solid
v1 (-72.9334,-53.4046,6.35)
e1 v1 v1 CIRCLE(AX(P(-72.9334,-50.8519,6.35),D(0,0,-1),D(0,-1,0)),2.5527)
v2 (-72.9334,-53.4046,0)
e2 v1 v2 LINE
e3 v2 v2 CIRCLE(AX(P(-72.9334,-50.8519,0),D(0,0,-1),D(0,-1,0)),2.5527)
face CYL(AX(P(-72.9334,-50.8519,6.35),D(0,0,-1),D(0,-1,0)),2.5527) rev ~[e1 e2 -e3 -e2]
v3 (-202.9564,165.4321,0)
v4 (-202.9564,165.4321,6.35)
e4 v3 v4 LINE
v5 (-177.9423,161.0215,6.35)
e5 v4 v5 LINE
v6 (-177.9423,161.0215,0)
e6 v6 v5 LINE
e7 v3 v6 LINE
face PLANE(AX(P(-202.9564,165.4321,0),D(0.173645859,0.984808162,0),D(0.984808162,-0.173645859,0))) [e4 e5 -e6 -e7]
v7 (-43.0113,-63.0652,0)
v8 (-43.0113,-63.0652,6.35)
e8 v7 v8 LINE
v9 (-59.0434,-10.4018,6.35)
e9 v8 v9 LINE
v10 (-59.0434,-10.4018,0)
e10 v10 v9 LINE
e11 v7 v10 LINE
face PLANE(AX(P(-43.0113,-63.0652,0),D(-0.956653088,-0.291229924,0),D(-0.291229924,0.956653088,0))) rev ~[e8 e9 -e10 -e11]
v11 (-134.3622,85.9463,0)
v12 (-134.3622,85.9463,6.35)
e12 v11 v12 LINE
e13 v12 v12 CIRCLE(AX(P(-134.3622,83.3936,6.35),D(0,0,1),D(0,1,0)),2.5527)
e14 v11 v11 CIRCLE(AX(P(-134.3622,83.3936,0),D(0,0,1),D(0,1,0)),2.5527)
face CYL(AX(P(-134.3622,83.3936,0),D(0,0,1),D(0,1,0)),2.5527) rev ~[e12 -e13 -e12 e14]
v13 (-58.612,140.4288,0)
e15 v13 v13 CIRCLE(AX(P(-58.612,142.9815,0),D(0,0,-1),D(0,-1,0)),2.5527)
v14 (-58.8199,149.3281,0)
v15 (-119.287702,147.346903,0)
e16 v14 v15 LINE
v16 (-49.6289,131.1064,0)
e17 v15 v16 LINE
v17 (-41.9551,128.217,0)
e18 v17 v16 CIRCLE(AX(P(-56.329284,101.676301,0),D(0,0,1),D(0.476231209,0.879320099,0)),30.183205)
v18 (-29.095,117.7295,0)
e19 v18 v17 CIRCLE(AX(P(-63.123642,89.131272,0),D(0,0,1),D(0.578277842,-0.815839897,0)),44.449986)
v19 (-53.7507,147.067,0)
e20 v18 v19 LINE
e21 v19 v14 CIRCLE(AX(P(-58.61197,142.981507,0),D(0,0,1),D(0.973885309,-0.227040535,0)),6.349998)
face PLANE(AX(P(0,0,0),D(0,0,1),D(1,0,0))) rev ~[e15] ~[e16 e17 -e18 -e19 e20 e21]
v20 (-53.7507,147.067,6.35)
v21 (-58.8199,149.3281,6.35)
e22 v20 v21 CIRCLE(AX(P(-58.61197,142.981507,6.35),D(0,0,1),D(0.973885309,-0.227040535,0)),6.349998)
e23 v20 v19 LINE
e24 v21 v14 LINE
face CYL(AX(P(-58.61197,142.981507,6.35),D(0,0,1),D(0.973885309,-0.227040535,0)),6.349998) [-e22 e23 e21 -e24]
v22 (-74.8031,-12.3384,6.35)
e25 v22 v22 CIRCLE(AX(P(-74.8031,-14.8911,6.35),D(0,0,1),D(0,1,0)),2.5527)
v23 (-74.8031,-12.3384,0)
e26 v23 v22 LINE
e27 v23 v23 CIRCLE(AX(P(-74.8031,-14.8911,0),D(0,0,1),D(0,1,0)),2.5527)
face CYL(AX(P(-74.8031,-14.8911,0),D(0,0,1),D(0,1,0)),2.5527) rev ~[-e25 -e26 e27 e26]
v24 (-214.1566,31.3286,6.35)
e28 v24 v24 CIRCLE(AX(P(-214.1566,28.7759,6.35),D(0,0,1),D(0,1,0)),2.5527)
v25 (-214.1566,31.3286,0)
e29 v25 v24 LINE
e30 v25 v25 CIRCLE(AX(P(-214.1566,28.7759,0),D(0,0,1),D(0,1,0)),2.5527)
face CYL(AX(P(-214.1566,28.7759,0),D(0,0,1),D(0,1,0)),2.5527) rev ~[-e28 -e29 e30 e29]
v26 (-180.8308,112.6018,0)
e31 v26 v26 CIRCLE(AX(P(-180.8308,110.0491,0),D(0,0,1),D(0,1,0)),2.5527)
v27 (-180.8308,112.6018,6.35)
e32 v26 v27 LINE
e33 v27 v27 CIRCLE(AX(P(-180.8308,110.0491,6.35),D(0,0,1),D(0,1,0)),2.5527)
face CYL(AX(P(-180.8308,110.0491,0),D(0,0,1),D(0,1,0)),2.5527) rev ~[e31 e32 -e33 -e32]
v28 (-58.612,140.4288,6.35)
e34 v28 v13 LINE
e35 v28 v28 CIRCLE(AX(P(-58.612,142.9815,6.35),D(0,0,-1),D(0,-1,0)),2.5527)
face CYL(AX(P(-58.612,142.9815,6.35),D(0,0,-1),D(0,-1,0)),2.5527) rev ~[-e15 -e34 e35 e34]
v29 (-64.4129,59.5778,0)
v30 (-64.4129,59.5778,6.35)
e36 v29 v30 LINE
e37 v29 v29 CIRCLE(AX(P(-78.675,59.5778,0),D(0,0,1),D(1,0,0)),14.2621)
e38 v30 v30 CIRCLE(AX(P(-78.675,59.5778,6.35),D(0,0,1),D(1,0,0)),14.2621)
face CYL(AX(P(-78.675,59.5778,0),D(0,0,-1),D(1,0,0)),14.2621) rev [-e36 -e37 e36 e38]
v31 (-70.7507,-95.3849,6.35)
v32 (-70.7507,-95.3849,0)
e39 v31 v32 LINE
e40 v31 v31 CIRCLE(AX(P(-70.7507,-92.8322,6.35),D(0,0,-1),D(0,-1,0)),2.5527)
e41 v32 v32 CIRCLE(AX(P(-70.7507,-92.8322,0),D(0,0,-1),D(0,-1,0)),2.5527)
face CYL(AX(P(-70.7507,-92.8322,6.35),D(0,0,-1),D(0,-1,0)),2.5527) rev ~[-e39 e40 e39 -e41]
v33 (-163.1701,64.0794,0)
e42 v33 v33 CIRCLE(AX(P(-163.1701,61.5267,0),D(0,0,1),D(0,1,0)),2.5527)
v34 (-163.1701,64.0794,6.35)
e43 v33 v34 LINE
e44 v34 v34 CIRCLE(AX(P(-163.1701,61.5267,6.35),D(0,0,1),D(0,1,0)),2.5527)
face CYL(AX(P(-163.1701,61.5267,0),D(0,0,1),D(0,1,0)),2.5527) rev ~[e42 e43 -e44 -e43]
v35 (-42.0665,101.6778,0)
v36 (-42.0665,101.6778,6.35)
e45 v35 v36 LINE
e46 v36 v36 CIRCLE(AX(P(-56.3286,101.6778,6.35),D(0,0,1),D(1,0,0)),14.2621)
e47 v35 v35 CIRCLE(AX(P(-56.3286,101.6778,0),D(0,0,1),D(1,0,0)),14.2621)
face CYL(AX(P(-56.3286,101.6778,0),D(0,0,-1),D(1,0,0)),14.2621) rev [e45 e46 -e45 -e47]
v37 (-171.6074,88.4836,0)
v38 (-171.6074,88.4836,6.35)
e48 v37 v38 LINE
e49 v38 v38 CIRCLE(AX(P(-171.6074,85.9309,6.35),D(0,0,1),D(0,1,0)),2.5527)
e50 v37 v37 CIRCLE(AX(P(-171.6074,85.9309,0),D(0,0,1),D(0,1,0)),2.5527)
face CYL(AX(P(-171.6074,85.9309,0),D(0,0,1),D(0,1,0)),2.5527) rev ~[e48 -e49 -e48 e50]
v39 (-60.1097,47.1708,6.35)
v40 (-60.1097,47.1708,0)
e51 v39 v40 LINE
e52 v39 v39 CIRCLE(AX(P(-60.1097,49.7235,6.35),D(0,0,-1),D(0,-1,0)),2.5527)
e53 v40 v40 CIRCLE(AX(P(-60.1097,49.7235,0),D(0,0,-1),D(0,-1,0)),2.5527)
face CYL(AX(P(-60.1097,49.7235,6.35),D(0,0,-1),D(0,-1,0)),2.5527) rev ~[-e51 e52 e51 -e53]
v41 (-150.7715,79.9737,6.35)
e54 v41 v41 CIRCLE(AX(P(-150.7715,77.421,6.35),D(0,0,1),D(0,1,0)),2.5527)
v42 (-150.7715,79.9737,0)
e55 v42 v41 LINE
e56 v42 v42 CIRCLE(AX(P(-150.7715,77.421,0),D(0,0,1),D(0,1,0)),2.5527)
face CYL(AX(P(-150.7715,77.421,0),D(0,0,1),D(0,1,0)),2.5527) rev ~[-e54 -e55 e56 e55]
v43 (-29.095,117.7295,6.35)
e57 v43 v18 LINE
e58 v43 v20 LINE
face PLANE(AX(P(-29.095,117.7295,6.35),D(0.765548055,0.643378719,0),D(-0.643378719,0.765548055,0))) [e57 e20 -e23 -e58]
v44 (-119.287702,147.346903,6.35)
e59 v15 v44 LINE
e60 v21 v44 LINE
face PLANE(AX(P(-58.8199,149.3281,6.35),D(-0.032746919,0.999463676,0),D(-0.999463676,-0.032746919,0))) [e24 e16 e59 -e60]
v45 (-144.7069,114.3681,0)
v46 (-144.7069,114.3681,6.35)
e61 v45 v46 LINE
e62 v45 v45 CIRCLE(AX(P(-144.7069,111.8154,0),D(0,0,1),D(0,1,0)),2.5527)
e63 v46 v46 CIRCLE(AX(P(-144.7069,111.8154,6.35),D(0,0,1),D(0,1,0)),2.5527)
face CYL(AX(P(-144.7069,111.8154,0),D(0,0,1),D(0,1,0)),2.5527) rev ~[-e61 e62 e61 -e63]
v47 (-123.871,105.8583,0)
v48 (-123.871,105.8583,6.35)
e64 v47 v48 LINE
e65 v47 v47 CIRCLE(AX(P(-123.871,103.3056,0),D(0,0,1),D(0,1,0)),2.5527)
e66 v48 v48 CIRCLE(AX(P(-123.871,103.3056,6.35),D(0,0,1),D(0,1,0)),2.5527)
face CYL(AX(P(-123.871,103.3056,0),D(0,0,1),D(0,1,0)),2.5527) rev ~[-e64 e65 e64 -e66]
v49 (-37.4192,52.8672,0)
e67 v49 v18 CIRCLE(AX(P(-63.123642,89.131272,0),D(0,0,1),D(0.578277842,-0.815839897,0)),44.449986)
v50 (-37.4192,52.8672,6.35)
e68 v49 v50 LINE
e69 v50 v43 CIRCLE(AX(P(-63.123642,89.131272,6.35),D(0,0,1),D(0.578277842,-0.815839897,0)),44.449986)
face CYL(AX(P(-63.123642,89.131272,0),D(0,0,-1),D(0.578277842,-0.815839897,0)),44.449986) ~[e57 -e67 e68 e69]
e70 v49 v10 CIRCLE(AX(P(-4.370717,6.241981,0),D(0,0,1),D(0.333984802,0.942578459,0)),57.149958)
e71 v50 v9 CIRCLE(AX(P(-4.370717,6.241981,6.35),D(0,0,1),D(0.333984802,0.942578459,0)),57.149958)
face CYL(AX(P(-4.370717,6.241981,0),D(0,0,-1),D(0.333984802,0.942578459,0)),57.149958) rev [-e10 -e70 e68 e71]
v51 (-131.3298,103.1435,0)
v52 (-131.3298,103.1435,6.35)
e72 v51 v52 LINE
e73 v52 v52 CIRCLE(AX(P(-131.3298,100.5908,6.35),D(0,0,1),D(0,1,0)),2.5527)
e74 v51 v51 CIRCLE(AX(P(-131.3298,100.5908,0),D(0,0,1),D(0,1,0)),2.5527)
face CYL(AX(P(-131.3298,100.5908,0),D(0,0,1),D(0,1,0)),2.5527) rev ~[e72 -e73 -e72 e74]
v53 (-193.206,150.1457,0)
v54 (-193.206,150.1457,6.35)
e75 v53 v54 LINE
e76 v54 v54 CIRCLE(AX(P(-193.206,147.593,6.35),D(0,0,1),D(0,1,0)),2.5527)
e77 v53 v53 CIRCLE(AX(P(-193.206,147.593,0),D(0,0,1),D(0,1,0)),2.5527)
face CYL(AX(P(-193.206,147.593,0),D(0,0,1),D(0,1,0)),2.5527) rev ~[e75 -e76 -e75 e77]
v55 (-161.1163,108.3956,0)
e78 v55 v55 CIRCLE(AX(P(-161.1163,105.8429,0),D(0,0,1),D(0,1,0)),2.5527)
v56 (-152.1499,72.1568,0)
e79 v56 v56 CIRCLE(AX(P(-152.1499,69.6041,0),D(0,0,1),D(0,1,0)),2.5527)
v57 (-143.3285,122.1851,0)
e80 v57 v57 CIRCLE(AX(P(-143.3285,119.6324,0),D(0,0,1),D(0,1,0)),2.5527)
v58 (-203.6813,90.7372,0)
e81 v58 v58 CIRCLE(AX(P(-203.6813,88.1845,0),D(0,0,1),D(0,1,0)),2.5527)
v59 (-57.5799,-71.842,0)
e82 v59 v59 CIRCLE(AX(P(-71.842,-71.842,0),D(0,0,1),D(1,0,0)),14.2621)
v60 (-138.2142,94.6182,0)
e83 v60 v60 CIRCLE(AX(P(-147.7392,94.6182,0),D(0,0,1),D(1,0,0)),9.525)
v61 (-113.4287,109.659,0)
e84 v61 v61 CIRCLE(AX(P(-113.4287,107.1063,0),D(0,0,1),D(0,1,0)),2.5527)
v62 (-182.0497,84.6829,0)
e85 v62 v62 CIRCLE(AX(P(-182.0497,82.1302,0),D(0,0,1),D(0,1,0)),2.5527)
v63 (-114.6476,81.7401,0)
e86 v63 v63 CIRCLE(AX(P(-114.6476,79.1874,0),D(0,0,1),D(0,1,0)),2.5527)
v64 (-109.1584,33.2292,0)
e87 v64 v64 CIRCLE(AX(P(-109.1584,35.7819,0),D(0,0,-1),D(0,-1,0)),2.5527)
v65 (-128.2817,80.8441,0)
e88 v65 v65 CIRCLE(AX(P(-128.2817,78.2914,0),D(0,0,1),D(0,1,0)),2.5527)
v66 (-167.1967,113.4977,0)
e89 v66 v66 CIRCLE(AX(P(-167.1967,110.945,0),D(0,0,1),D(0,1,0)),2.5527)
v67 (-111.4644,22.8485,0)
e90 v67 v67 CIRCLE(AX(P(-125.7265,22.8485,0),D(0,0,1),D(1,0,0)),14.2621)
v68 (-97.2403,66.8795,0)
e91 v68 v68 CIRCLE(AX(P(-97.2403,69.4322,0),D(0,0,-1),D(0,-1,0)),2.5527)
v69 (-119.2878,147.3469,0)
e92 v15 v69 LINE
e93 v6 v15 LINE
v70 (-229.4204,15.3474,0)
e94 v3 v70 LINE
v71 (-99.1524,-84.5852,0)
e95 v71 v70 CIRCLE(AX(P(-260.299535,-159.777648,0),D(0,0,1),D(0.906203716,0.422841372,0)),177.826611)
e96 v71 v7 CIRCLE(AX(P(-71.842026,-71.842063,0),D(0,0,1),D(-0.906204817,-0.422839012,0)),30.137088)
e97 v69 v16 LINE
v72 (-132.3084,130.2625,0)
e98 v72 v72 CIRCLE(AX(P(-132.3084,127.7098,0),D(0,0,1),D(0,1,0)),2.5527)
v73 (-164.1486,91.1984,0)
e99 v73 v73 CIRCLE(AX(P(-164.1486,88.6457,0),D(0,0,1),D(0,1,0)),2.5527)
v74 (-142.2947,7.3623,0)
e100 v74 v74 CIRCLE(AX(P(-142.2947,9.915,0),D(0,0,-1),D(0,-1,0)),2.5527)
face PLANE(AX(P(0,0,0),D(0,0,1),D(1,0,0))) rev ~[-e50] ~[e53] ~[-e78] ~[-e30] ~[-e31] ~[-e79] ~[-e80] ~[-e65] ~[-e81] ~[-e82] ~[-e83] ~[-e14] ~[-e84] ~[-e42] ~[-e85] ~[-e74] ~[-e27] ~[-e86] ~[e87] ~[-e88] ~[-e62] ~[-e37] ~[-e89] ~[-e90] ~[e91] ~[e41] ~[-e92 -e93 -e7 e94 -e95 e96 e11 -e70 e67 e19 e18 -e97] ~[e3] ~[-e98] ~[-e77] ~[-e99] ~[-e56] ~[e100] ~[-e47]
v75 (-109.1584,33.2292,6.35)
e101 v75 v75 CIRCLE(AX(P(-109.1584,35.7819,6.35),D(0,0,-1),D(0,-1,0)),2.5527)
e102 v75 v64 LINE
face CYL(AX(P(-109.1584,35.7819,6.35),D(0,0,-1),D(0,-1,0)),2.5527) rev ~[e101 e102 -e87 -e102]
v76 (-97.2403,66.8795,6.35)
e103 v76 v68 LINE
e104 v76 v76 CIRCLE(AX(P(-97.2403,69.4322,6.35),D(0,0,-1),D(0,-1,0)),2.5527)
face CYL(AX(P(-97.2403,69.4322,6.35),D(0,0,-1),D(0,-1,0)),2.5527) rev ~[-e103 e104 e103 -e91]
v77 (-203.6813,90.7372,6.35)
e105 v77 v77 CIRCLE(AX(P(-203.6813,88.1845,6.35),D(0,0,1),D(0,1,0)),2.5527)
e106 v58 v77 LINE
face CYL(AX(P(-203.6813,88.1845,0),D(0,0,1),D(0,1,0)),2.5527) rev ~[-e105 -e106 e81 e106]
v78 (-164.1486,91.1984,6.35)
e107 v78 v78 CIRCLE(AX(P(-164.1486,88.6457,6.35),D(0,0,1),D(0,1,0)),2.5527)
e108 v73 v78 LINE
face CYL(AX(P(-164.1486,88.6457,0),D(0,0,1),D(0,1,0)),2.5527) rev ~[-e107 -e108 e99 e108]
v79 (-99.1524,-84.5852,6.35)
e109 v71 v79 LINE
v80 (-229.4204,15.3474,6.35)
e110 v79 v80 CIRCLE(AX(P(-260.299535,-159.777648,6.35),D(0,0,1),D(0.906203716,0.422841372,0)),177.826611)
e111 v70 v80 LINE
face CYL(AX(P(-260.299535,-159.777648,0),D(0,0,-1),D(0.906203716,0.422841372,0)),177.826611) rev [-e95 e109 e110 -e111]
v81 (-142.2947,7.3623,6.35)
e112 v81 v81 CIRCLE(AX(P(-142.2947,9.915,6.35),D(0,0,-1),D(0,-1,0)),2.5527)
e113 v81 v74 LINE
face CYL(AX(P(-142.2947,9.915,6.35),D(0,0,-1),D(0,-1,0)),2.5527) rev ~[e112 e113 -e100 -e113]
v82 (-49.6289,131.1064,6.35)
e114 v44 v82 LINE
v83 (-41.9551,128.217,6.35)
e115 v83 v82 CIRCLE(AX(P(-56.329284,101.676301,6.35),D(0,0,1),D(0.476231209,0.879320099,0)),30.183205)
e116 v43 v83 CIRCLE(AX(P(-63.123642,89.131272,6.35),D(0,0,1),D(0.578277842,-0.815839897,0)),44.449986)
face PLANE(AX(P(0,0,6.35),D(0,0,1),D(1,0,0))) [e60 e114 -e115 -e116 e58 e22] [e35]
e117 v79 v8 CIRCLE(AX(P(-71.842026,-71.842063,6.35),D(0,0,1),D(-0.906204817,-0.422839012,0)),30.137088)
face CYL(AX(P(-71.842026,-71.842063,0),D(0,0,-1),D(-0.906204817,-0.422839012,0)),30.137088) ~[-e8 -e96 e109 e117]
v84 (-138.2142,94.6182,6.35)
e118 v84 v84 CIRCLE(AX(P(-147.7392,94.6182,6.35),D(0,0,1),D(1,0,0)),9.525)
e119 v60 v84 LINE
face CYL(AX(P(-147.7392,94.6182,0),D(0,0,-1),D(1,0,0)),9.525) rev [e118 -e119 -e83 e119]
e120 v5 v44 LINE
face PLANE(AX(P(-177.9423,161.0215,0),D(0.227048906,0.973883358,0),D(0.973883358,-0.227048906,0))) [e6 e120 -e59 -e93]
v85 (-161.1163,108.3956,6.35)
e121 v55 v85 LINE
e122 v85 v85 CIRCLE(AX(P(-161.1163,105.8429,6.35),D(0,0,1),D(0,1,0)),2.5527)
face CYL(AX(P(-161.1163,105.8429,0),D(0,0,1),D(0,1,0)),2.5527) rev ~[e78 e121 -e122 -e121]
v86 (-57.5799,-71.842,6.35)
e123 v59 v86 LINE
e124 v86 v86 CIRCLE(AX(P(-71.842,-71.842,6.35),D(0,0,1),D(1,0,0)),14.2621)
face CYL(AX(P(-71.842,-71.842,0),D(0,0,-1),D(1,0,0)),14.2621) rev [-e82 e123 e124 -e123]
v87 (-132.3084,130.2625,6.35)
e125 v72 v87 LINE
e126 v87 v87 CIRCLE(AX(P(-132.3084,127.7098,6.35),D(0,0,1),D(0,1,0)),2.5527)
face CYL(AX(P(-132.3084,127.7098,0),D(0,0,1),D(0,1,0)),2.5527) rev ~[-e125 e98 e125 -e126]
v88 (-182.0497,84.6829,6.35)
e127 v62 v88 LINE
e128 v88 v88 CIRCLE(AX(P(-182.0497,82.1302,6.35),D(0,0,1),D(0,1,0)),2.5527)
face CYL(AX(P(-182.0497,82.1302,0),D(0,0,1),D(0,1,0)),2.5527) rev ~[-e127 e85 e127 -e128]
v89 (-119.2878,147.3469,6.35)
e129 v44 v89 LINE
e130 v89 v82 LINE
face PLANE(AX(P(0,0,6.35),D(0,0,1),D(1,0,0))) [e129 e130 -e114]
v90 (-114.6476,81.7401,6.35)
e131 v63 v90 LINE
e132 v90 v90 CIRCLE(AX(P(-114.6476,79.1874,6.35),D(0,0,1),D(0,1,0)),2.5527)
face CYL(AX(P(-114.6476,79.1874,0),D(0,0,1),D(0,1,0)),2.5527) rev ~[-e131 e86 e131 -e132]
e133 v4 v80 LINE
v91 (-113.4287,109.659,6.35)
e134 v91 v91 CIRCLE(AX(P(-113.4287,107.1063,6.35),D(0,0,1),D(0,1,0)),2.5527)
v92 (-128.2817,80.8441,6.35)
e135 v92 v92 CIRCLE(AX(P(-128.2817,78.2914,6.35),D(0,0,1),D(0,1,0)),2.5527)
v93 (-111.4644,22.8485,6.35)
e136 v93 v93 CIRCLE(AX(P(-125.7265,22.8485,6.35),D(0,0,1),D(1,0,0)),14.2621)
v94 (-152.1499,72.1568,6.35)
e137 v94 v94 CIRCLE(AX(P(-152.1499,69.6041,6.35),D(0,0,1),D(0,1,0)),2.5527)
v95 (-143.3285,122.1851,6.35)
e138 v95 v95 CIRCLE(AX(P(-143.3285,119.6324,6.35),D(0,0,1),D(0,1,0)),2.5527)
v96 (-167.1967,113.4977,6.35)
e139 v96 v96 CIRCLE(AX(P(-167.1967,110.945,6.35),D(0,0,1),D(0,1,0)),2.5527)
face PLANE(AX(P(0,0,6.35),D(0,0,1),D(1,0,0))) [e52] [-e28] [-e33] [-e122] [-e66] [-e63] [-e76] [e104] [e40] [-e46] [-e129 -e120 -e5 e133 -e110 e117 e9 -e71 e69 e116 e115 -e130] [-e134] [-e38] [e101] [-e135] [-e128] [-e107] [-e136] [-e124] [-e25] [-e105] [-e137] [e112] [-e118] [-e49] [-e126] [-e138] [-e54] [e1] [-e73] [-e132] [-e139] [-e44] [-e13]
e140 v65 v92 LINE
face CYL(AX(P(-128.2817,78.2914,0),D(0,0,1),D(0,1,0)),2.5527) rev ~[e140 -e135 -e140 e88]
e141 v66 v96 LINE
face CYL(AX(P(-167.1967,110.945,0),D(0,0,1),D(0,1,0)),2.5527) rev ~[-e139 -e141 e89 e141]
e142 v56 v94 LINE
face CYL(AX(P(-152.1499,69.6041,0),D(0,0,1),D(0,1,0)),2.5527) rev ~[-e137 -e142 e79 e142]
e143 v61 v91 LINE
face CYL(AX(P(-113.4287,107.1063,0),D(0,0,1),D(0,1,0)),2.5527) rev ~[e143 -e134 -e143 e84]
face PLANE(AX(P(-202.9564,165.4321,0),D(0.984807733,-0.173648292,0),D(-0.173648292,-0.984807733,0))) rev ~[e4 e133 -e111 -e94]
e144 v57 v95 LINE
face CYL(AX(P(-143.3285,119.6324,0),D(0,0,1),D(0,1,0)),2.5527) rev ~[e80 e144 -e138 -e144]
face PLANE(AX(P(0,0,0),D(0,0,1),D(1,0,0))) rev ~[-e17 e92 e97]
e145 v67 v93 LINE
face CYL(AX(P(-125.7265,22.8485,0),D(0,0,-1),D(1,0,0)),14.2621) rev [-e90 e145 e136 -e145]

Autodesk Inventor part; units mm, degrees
ref_plane "YZ Plane" through (0, 0, 0) normal (1, 0, 0) x (0, 1, 0)
ref_plane "XZ Plane" through (0, 0, 0) normal (0, 1, 0) x (-1, 0, 0)
ref_plane "XY Plane" through (0, 0, 0) normal (0, 0, 1) x (1, 0, 0)
sketch "Sketch1" plane through (0, 0, 0) normal (0, 0, 1) x (1, 0, 0)
  circle A0 centre (71.842, 71.842) radius 50.8 construction
  circle A1 centre (-71.842, -71.842) radius 50.8 construction
  circle A2 centre (0, 0) radius 50.8 construction
  line L0 (-35.921, -35.921) -> (35.921, 35.921) construction
  line L1 (71.842, 71.842) -> (-71.842, -71.842) construction
  line L2 (-4.3707, 6.2419) -> (-4.3707, 50.6116) construction
  line L3 (-226.8798, -122.642) -> (638.5123, -122.642) construction
  circle A3 centre (147.8406, -65.492) radius 57.15 construction
  circle A4 centre (71.842, 71.842) radius 14.2621
  circle A5 centre (-71.842, -71.842) radius 14.2621
  circle A6 centre (-4.3707, 6.2419) radius 57.15 construction
  circle A7 centre (-71.842, -71.842) radius 30.1371 construction
  circle A8 centre (71.842, 71.842) radius 30.1371 construction
  circle A9 centre (-56.3286, 101.6778) radius 14.2621
  line L4 (-56.3286, 101.6778) -> (71.842, 71.842) construction
  circle A10 centre (71.842, 71.842) radius 14.3256 construction
  circle A11 centre (-71.842, -71.842) radius 14.3256 construction
  circle A12 centre (-78.675, 59.5778) radius 14.2621
  line L5 (-71.842, -71.842) -> (-78.675, 59.5778) construction
  circle A13 centre (-78.675, 59.5778) radius 23.8316 construction
  circle A14 centre (-56.3286, 101.6778) radius 23.8316 construction
  line L6 (14.7165, 60.1103) -> (61.7767, 43.4355)
  line L7 (-43.0113, -63.0652) -> (-59.0434, -10.4018)
  arc A15 (14.7165, 60.1103) -> (-59.0434, -10.4018) centre (-4.3707, 6.2419) ccw
  line L8 (-202.9564, 165.4321) -> (-177.9423, 161.0215)
  line L9 (-177.9423, 161.0215) -> (-204.4062, 10.9368) construction
  line L10 (-204.4062, 10.9368) -> (-229.4204, 15.3474) construction
  line L11 (-229.4204, 15.3474) -> (-202.9564, 165.4321) construction
  line L12 (-248.4004, -92.2937) -> (35.0702, -142.2772) construction
  line L13 (-201.8537, 171.6857) -> (161.0026, 107.7043) construction
  line L14 (-201.8537, 171.6857) -> (-248.4004, -92.2937) construction
  circle A16 centre (-147.7392, 94.6182) radius 31.75 construction
  line L15 (-77.4376, 35.7784) -> (-74.4797, -21.1106) construction
  circle A17 centre (13.0879, 85.5189) radius 9.525 construction
  line L16 (-190.4493, 163.2268) -> (-216.9133, 13.1421) construction
  line L17 (-193.206, 147.593) -> (-214.1566, 28.7759) construction
  circle A18 centre (-147.7392, 94.6182) radius 17.4625 construction
  circle A19 centre (-147.7392, 94.6182) radius 9.525
  circle A20 centre (-56.3286, 101.6778) radius 30.1816 construction
  line L18 (-202.9564, 165.4321) -> (-229.4204, 15.3474)
  arc A21 (61.7767, 43.4355) -> (78.6846, 101.1921) centre (71.842, 71.842) ccw
  arc A22 (-99.1524, -84.5852) -> (-43.0113, -63.0652) centre (-71.842, -71.842) ccw
  line L19 (-147.7392, 94.6182) -> (-131.3298, 100.5908) construction
  line L20 (-113.4287, 107.1063) -> (-182.0497, 82.1302) construction
  circle A23 centre (-182.0497, 82.1302) radius 4.7625 construction
  line L21 (0, 0) -> (-4.3707, 6.2419) construction
  circle A24 centre (71.842, 71.842) radius 28.6512 construction
  line L22 (62.334, 44.8145) -> (-61.0615, 88.2239) construction
  line L23 (75.2477, 100.2901) -> (-54.6333, 115.8388) construction
  line L24 (-177.9423, 161.0215) -> (78.6846, 101.1921)
  line L25 (-147.7392, 94.6182) -> (-125.7265, 22.8485) construction
  circle A25 centre (-125.7265, 22.8485) radius 31.75 construction
  circle A26 centre (-125.7265, 22.8485) radius 14.2621
  line L26 (-78.675, 59.5778) -> (-125.7265, 22.8485) construction
  circle A27 centre (-147.7392, 94.6182) radius 25.4 construction
  arc A28 (-99.1524, -84.5852) -> (-229.4204, 15.3474) centre (-260.2996, -159.7777) ccw
  circle A29 centre (-147.7392, 94.6182) radius 36.5125 construction
  line L27 (-180.8308, 110.0491) -> (-147.7392, 94.6182) construction
  arc A30 (-41.9551, 128.217) -> (-49.6289, 131.1064) centre (-56.3286, 101.6778) ccw
  arc A31 (-37.4192, 52.8672) -> (-41.9551, 128.217) centre (-63.1237, 89.1313) ccw
  point P0 (-75.9587, 7.3339)
  point P1 (-203.6813, 88.1845)
  point P2 (-203.6813, 88.1845)
  point P3 (-144.7069, 111.8154)
  point P4 (-161.1163, 105.8429)
  point P5 (-164.1486, 88.6457)
  point P6 (-150.7715, 77.421)
  point P7 (-134.3622, 83.3936)
  point P8 (-123.871, 103.3056)
  point P9 (-143.3285, 119.6324)
  point P10 (-167.1967, 110.945)
  point P11 (-171.6074, 85.9309)
  point P12 (-152.1499, 69.6041)
  point P13 (-128.2817, 78.2914)
  point P14 (-160.2272, 128.9288)
  point P15 (-182.0497, 82.1302)
  point P16 (-135.2512, 60.3077)
  point P17 (-132.3084, 127.7098)
  point P18 (-163.1701, 61.5267)
  point P19 (-114.6476, 79.1874)
  point P20 (-49.4759, 131.0711)
  point P21 (-74.8031, -14.8911)
  dimension "d7" = 101.6
  dimension "d18" = 47.6631
  dimension "d34" = 34.925
  dimension "d65" = 50.8
  dimension "d3" = 45
  dimension "d4" = 0
  dimension "d8" = 101.6
  dimension "d9" = 28.5242
  dimension "d10" = 101.6
  dimension "d11" = 114.3
  dimension "d12" = 114.3
  dimension "d13" = 15.875
  dimension "d14" = 15.875
  dimension "d15" = 131.5974
  dimension "d16" = 28.6512
  dimension "d17" = 131.5974
  dimension "d19" = 47.6631
  dimension "d22" = 25.4
  dimension "d23" = 152.4
  dimension "d26" = 268.0517
  dimension "d27" = 63.5
  dimension "d30" = 203.2
  dimension "d31" = 10
  dimension "d32" = 19.05
  dimension "d33" = 120.65
  dimension "d35" = 19.05
  dimension "d36" = 6.35
  dimension "d40" = 360
  dimension "d44" = 9.525
  dimension "d55" = 80
  dimension "d56" = 7.62
  dimension "d57" = 6.35
  dimension "d58" = 57.3024
  dimension "d59" = 63.5
  dimension "d60" = 75.0697
  dimension "d61" = 59.69
  dimension "d62" = 55
  dimension "d68" = 360
  dimension "d70" = 41.275
  dimension "d71" = 60
  dimension "d82" = 360
  dimension "d87" = 360
  dimension "d89" = 45
  dimension "d122" = 44.45
  dimension "d123" = 22.225
extrude "Extrusion1" add sketch "Sketch1" along normal blind 6.35 contours A30 A31 A15 L7 A22 A28 L18 L8 L24
hole "Hole1" at (13.0879, 85.5189, 0) at (-193.206, 147.593, 0) at (-203.6813, 88.1845, 0) at (-214.1566, 28.7759, 0) at (-131.3298, 100.5908, 0) at (-144.7069, 111.8154, 0) at (-161.1163, 105.8429, 0) at (-164.1486, 88.6457, 0) at (-150.7715, 77.421, 0) at (-134.3622, 83.3936, 0) at (-113.4287, 107.1063, 0) at (-182.0497, 82.1302, 0) at (-152.1499, 69.6041, 0) at (-171.6074, 85.9309, 0) at (-167.1967, 110.945, 0) at (-143.3285, 119.6324, 0) at (-123.871, 103.3056, 0) at (-128.2817, 78.2914, 0) at (-180.8308, 110.0491, 0) at (-132.3084, 127.7098, 0) at (-114.6476, 79.1874, 0) at (-163.1701, 61.5267, 0) at (-74.8031, -14.8911, 0) direction (0, 0, 1) diameter 5.1054 end through all clearance for "Flat Head Machine Screw (82)" size "#10" standard "Ansi Unified Screw Threads"
sketch "Sketch2" plane through (0, 0, 6.35) normal (0, 0, 1) x (1, 0, 0)
  circle A0 centre (-128.2817, 78.2914) radius 2.5527 construction
  circle A1 centre (-143.3285, 119.6324) radius 2.5527 construction
  circle A2 centre (-171.6074, 85.9309) radius 2.5527 construction
  circle A3 centre (-182.0497, 82.1302) radius 2.5527 construction
  circle A4 centre (-134.3622, 83.3936) radius 2.5527 construction
  circle A5 centre (-164.1486, 88.6457) radius 2.5527 construction
  circle A6 centre (-144.7069, 111.8154) radius 2.5527 construction
  circle A7 centre (-214.1566, 28.7759) radius 2.5527 construction
  circle A8 centre (-193.206, 147.593) radius 2.5527 construction
  circle A9 centre (-203.6813, 88.1845) radius 2.5527 construction
  circle A10 centre (-131.3298, 100.5908) radius 2.5527 construction
  circle A11 centre (-161.1163, 105.8429) radius 2.5527 construction
  circle A12 centre (-150.7715, 77.421) radius 2.5527 construction
  circle A13 centre (-113.4287, 107.1063) radius 2.5527 construction
  circle A14 centre (-152.1499, 69.6041) radius 2.5527 construction
  circle A15 centre (-167.1967, 110.945) radius 2.5527 construction
  circle A16 centre (-123.871, 103.3056) radius 2.5527 construction
  line L0 (-43.0113, -63.0652) -> (-59.0434, -10.4018) construction
  arc A17 (-37.4192, 52.8672) -> (-59.0434, -10.4018) centre (-4.3707, 6.2419) ccw construction
  line L1 (-49.4759, 131.0711) -> (-177.9423, 161.0215) construction
  line L2 (-177.9423, 161.0215) -> (-202.9564, 165.4321) construction
  line L3 (-202.9564, 165.4321) -> (-229.4204, 15.3474) construction
  arc A18 (-99.1524, -84.5852) -> (-229.4204, 15.3474) centre (-260.2996, -159.7777) ccw construction
  arc A19 (-99.1524, -84.5852) -> (-43.0113, -63.0652) centre (-71.842, -71.842) ccw construction
  circle A20 centre (-78.675, 59.5778) radius 14.2621 construction
  circle A21 centre (-147.7392, 94.6182) radius 9.525 construction
  circle A22 centre (-125.7265, 22.8485) radius 14.2621 construction
  circle A23 centre (-56.3286, 101.6778) radius 14.2621 construction
  circle A24 centre (-71.842, -71.842) radius 14.2621 construction
  line L4 (-72.9334, -50.8519) -> (-70.7507, -92.8322) construction
  line L5 (-142.2947, 9.915) -> (-109.1584, 35.7819) construction
  line L6 (-97.2403, 69.4322) -> (-60.1097, 49.7235) construction
  line L7 (-74.8938, 111.5322) -> (-37.7633, 91.8235) construction
  line L8 (41.3438, 49.8338) -> (78.4744, 30.1251) construction
  circle A25 centre (-78.675, 59.5778) radius 14.2621 construction
  line L9 (-56.3286, 101.6778) -> (-78.675, 59.5778) construction
  line L10 (-56.3286, 101.6778) -> (59.9091, 39.9795) construction
  line L11 (-78.675, 59.5778) -> (-125.7265, 22.8485) construction
  line L12 (-78.675, 59.5778) -> (-71.842, -71.842) construction
  arc A26 (-37.4192, 52.8672) -> (-41.9551, 128.217) centre (-63.1237, 89.1313) ccw projected
  arc A27 (-41.9551, 128.217) -> (-49.4759, 131.0711) centre (-56.3286, 101.6778) ccw projected
  point P0 (0, 0)
  dimension "d72" = 42.037
hole "Hole2" at (-72.9334, -50.8519, 6.35) at (-109.1584, 35.7819, 6.35) at (-70.7507, -92.8322, 6.35) at (-142.2947, 9.915, 6.35) at (-60.1097, 49.7235, 6.35) at (-97.2403, 69.4322, 6.35) at (78.4744, 30.1251, 6.35) at (41.3438, 49.8338, 6.35) direction (0, 0, -1) diameter 5.1054 end through all clearance for "Flat Head Machine Screw (82)" size "#10" standard "Ansi Unified Screw Threads"
sketch "Sketch3" plane through (0, 0, 6.35) normal (0, 0, 1) x (1, 0, 0)
  circle A0 centre (-60.1097, 49.7235) radius 2.5527 construction
  circle A1 centre (-70.7507, -92.8322) radius 2.5527 construction
  circle A2 centre (-72.9334, -50.8519) radius 2.5527 construction
  circle A3 centre (-109.1584, 35.7819) radius 2.5527 construction
  circle A4 centre (-142.2947, 9.915) radius 2.5527 construction
  circle A5 centre (-97.2403, 69.4322) radius 2.5527 construction
  circle A6 centre (-114.6476, 79.1874) radius 2.5527 construction
  circle A7 centre (-180.8308, 110.0491) radius 2.5527 construction
  circle A8 centre (-128.2817, 78.2914) radius 2.5527 construction
  circle A9 centre (-143.3285, 119.6324) radius 2.5527 construction
  circle A10 centre (-171.6074, 85.9309) radius 2.5527 construction
  circle A11 centre (-182.0497, 82.1302) radius 2.5527 construction
  circle A12 centre (-134.3622, 83.3936) radius 2.5527 construction
  circle A13 centre (-164.1486, 88.6457) radius 2.5527 construction
  circle A14 centre (-144.7069, 111.8154) radius 2.5527 construction
  circle A15 centre (-214.1566, 28.7759) radius 2.5527 construction
  circle A16 centre (-193.206, 147.593) radius 2.5527 construction
  circle A17 centre (-203.6813, 88.1845) radius 2.5527 construction
  circle A18 centre (-131.3298, 100.5908) radius 2.5527 construction
  circle A19 centre (-161.1163, 105.8429) radius 2.5527 construction
  circle A20 centre (-150.7715, 77.421) radius 2.5527 construction
  circle A21 centre (-113.4287, 107.1063) radius 2.5527 construction
  circle A22 centre (-152.1499, 69.6041) radius 2.5527 construction
  circle A23 centre (-167.1967, 110.945) radius 2.5527 construction
  circle A24 centre (-123.871, 103.3056) radius 2.5527 construction
  circle A25 centre (-132.3084, 127.7098) radius 2.5527 construction
  circle A26 centre (-163.1701, 61.5267) radius 2.5527 construction
  arc A27 (-37.4192, 52.8672) -> (-59.0434, -10.4018) centre (-4.3707, 6.2419) ccw construction
  arc A28 (-37.4192, 52.8672) -> (-41.9551, 128.217) centre (-63.1237, 89.1313) ccw projected
  arc A29 (-41.9551, 128.217) -> (-49.4759, 131.0711) centre (-56.3286, 101.6778) ccw projected
  line L0 (-49.4759, 131.0711) -> (-177.9423, 161.0215) construction
  line L1 (-177.9423, 161.0215) -> (-202.9564, 165.4321) construction
  line L2 (-202.9564, 165.4321) -> (-229.4204, 15.3474) construction
  arc A30 (-99.1524, -84.5852) -> (-229.4204, 15.3474) centre (-260.2996, -159.7777) ccw construction
  arc A31 (-99.1524, -84.5852) -> (-43.0113, -63.0652) centre (-71.842, -71.842) ccw construction
  line L3 (-43.0113, -63.0652) -> (-59.0434, -10.4018) construction
  circle A32 centre (-78.675, 59.5778) radius 14.2621 construction
  circle A33 centre (-125.7265, 22.8485) radius 14.2621 construction
  circle A34 centre (-147.7392, 94.6182) radius 9.525 construction
  circle A35 centre (-56.3286, 101.6778) radius 14.2621 construction
  circle A36 centre (-71.842, -71.842) radius 14.2621 construction
  circle A37 centre (71.832, 71.7988) radius 50.8 construction
  circle A38 centre (71.832, 71.7988) radius 14.2875 construction
  circle A39 centre (71.832, 71.7988) radius 30.1625 construction
  line L4 (-56.3286, 101.6778) -> (71.832, 71.7988) construction
  circle A40 centre (-58.612, 142.9815) radius 69.85 construction
  circle A41 centre (-58.612, 142.9815) radius 101.6 construction
  line L5 (-56.3286, 101.6778) -> (54.8213, 172.1305) construction
  circle A42 centre (54.8213, 172.1305) radius 50.8 construction
  circle A43 centre (54.8213, 172.1305) radius 14.2875 construction
  circle A44 centre (54.8213, 172.1305) radius 30.1625 construction
  circle A45 centre (180.8401, -48.1609) radius 202.9894 construction
  arc A46 (-99.1524, -84.5852) -> (-43.0113, -63.0652) centre (-71.842, -71.842) ccw construction
  circle A47 centre (-71.842, -71.842) radius 50.8 construction
  line L6 (64.454, 101.045) -> (-44.9511, 126.5515) construction
  line L7 (38.6733, 197.6064) -> (-18.1122, 161.6127) construction
  line L8 (39.5139, 116.6399) -> (37.3512, 107.3637) construction
  line L9 (3.4905, 175.3056) -> (-1.6088, 183.3506) construction
  line L10 (39.5139, 116.6399) -> (30.0889, 81.5306) construction
  line L11 (30.0889, 81.5306) -> (71.832, 71.7988) construction
  arc A48 (-52.4278, 141.5398) -> (-58.8199, 149.3281) centre (-58.612, 142.9815) ccw
  line L12 (-49.4759, 131.0711) -> (-177.9423, 161.0215) construction
  line L13 (-58.8199, 149.3281) -> (-119.2878, 147.3469)
  line L14 (-119.2878, 147.3469) -> (-49.4759, 131.0711)
  arc A49 (-37.4192, 52.8672) -> (-41.9551, 128.217) centre (-63.1237, 89.1313) ccw construction
  line L15 (-29.095, 117.7295) -> (-53.7507, 147.067)
  point P0 (0, 0)
  point P1 (31.3192, 81.2438)
  point P2 (-29.095, 117.7295)
  dimension "d95" = 139.7
  dimension "d96" = 203.2
  dimension "d90" = 101.6
  dimension "d91" = 28.575
  dimension "d92" = 15.875
  dimension "d93" = 131.5974
  dimension "d94" = 0
  dimension "d99" = 45.492
  dimension "d100" = 405.9788
  dimension "d101" = 101.6
  dimension "d102" = 9.525
  dimension "d103" = 146.05
  dimension "d104" = 9.525
  dimension "d105" = 41.6552
  dimension "d106" = 41.6552
  dimension "d108" = 42.8625
  dimension "d109" = 9.525
  dimension "d110" = 36.3323
  dimension "d111" = 12.7
  dimension "d112" = 15
extrude "Extrusion2" add sketch "Sketch3" against normal up to surface (6.35 mm away)
sketch "Sketch4" plane through (0, 0, 6.35) normal (0, 0, 1) x (1, 0, 0)
  arc A0 (-53.7507, 147.067) -> (-58.8199, 149.3281) centre (-58.612, 142.9815) ccw construction
  point P0 (0, 0)
  point P1 (-52.4278, 141.5398)
hole "Hole3" at (-58.612, 142.9815, 6.35) direction (0, 0, -1) diameter 5.1054 end through all clearance for "Flat Head Machine Screw (82)" size "#10" standard "Ansi Unified Screw Threads"
properties part number "GP10-001" material "Polycarbonate, Smoke"
